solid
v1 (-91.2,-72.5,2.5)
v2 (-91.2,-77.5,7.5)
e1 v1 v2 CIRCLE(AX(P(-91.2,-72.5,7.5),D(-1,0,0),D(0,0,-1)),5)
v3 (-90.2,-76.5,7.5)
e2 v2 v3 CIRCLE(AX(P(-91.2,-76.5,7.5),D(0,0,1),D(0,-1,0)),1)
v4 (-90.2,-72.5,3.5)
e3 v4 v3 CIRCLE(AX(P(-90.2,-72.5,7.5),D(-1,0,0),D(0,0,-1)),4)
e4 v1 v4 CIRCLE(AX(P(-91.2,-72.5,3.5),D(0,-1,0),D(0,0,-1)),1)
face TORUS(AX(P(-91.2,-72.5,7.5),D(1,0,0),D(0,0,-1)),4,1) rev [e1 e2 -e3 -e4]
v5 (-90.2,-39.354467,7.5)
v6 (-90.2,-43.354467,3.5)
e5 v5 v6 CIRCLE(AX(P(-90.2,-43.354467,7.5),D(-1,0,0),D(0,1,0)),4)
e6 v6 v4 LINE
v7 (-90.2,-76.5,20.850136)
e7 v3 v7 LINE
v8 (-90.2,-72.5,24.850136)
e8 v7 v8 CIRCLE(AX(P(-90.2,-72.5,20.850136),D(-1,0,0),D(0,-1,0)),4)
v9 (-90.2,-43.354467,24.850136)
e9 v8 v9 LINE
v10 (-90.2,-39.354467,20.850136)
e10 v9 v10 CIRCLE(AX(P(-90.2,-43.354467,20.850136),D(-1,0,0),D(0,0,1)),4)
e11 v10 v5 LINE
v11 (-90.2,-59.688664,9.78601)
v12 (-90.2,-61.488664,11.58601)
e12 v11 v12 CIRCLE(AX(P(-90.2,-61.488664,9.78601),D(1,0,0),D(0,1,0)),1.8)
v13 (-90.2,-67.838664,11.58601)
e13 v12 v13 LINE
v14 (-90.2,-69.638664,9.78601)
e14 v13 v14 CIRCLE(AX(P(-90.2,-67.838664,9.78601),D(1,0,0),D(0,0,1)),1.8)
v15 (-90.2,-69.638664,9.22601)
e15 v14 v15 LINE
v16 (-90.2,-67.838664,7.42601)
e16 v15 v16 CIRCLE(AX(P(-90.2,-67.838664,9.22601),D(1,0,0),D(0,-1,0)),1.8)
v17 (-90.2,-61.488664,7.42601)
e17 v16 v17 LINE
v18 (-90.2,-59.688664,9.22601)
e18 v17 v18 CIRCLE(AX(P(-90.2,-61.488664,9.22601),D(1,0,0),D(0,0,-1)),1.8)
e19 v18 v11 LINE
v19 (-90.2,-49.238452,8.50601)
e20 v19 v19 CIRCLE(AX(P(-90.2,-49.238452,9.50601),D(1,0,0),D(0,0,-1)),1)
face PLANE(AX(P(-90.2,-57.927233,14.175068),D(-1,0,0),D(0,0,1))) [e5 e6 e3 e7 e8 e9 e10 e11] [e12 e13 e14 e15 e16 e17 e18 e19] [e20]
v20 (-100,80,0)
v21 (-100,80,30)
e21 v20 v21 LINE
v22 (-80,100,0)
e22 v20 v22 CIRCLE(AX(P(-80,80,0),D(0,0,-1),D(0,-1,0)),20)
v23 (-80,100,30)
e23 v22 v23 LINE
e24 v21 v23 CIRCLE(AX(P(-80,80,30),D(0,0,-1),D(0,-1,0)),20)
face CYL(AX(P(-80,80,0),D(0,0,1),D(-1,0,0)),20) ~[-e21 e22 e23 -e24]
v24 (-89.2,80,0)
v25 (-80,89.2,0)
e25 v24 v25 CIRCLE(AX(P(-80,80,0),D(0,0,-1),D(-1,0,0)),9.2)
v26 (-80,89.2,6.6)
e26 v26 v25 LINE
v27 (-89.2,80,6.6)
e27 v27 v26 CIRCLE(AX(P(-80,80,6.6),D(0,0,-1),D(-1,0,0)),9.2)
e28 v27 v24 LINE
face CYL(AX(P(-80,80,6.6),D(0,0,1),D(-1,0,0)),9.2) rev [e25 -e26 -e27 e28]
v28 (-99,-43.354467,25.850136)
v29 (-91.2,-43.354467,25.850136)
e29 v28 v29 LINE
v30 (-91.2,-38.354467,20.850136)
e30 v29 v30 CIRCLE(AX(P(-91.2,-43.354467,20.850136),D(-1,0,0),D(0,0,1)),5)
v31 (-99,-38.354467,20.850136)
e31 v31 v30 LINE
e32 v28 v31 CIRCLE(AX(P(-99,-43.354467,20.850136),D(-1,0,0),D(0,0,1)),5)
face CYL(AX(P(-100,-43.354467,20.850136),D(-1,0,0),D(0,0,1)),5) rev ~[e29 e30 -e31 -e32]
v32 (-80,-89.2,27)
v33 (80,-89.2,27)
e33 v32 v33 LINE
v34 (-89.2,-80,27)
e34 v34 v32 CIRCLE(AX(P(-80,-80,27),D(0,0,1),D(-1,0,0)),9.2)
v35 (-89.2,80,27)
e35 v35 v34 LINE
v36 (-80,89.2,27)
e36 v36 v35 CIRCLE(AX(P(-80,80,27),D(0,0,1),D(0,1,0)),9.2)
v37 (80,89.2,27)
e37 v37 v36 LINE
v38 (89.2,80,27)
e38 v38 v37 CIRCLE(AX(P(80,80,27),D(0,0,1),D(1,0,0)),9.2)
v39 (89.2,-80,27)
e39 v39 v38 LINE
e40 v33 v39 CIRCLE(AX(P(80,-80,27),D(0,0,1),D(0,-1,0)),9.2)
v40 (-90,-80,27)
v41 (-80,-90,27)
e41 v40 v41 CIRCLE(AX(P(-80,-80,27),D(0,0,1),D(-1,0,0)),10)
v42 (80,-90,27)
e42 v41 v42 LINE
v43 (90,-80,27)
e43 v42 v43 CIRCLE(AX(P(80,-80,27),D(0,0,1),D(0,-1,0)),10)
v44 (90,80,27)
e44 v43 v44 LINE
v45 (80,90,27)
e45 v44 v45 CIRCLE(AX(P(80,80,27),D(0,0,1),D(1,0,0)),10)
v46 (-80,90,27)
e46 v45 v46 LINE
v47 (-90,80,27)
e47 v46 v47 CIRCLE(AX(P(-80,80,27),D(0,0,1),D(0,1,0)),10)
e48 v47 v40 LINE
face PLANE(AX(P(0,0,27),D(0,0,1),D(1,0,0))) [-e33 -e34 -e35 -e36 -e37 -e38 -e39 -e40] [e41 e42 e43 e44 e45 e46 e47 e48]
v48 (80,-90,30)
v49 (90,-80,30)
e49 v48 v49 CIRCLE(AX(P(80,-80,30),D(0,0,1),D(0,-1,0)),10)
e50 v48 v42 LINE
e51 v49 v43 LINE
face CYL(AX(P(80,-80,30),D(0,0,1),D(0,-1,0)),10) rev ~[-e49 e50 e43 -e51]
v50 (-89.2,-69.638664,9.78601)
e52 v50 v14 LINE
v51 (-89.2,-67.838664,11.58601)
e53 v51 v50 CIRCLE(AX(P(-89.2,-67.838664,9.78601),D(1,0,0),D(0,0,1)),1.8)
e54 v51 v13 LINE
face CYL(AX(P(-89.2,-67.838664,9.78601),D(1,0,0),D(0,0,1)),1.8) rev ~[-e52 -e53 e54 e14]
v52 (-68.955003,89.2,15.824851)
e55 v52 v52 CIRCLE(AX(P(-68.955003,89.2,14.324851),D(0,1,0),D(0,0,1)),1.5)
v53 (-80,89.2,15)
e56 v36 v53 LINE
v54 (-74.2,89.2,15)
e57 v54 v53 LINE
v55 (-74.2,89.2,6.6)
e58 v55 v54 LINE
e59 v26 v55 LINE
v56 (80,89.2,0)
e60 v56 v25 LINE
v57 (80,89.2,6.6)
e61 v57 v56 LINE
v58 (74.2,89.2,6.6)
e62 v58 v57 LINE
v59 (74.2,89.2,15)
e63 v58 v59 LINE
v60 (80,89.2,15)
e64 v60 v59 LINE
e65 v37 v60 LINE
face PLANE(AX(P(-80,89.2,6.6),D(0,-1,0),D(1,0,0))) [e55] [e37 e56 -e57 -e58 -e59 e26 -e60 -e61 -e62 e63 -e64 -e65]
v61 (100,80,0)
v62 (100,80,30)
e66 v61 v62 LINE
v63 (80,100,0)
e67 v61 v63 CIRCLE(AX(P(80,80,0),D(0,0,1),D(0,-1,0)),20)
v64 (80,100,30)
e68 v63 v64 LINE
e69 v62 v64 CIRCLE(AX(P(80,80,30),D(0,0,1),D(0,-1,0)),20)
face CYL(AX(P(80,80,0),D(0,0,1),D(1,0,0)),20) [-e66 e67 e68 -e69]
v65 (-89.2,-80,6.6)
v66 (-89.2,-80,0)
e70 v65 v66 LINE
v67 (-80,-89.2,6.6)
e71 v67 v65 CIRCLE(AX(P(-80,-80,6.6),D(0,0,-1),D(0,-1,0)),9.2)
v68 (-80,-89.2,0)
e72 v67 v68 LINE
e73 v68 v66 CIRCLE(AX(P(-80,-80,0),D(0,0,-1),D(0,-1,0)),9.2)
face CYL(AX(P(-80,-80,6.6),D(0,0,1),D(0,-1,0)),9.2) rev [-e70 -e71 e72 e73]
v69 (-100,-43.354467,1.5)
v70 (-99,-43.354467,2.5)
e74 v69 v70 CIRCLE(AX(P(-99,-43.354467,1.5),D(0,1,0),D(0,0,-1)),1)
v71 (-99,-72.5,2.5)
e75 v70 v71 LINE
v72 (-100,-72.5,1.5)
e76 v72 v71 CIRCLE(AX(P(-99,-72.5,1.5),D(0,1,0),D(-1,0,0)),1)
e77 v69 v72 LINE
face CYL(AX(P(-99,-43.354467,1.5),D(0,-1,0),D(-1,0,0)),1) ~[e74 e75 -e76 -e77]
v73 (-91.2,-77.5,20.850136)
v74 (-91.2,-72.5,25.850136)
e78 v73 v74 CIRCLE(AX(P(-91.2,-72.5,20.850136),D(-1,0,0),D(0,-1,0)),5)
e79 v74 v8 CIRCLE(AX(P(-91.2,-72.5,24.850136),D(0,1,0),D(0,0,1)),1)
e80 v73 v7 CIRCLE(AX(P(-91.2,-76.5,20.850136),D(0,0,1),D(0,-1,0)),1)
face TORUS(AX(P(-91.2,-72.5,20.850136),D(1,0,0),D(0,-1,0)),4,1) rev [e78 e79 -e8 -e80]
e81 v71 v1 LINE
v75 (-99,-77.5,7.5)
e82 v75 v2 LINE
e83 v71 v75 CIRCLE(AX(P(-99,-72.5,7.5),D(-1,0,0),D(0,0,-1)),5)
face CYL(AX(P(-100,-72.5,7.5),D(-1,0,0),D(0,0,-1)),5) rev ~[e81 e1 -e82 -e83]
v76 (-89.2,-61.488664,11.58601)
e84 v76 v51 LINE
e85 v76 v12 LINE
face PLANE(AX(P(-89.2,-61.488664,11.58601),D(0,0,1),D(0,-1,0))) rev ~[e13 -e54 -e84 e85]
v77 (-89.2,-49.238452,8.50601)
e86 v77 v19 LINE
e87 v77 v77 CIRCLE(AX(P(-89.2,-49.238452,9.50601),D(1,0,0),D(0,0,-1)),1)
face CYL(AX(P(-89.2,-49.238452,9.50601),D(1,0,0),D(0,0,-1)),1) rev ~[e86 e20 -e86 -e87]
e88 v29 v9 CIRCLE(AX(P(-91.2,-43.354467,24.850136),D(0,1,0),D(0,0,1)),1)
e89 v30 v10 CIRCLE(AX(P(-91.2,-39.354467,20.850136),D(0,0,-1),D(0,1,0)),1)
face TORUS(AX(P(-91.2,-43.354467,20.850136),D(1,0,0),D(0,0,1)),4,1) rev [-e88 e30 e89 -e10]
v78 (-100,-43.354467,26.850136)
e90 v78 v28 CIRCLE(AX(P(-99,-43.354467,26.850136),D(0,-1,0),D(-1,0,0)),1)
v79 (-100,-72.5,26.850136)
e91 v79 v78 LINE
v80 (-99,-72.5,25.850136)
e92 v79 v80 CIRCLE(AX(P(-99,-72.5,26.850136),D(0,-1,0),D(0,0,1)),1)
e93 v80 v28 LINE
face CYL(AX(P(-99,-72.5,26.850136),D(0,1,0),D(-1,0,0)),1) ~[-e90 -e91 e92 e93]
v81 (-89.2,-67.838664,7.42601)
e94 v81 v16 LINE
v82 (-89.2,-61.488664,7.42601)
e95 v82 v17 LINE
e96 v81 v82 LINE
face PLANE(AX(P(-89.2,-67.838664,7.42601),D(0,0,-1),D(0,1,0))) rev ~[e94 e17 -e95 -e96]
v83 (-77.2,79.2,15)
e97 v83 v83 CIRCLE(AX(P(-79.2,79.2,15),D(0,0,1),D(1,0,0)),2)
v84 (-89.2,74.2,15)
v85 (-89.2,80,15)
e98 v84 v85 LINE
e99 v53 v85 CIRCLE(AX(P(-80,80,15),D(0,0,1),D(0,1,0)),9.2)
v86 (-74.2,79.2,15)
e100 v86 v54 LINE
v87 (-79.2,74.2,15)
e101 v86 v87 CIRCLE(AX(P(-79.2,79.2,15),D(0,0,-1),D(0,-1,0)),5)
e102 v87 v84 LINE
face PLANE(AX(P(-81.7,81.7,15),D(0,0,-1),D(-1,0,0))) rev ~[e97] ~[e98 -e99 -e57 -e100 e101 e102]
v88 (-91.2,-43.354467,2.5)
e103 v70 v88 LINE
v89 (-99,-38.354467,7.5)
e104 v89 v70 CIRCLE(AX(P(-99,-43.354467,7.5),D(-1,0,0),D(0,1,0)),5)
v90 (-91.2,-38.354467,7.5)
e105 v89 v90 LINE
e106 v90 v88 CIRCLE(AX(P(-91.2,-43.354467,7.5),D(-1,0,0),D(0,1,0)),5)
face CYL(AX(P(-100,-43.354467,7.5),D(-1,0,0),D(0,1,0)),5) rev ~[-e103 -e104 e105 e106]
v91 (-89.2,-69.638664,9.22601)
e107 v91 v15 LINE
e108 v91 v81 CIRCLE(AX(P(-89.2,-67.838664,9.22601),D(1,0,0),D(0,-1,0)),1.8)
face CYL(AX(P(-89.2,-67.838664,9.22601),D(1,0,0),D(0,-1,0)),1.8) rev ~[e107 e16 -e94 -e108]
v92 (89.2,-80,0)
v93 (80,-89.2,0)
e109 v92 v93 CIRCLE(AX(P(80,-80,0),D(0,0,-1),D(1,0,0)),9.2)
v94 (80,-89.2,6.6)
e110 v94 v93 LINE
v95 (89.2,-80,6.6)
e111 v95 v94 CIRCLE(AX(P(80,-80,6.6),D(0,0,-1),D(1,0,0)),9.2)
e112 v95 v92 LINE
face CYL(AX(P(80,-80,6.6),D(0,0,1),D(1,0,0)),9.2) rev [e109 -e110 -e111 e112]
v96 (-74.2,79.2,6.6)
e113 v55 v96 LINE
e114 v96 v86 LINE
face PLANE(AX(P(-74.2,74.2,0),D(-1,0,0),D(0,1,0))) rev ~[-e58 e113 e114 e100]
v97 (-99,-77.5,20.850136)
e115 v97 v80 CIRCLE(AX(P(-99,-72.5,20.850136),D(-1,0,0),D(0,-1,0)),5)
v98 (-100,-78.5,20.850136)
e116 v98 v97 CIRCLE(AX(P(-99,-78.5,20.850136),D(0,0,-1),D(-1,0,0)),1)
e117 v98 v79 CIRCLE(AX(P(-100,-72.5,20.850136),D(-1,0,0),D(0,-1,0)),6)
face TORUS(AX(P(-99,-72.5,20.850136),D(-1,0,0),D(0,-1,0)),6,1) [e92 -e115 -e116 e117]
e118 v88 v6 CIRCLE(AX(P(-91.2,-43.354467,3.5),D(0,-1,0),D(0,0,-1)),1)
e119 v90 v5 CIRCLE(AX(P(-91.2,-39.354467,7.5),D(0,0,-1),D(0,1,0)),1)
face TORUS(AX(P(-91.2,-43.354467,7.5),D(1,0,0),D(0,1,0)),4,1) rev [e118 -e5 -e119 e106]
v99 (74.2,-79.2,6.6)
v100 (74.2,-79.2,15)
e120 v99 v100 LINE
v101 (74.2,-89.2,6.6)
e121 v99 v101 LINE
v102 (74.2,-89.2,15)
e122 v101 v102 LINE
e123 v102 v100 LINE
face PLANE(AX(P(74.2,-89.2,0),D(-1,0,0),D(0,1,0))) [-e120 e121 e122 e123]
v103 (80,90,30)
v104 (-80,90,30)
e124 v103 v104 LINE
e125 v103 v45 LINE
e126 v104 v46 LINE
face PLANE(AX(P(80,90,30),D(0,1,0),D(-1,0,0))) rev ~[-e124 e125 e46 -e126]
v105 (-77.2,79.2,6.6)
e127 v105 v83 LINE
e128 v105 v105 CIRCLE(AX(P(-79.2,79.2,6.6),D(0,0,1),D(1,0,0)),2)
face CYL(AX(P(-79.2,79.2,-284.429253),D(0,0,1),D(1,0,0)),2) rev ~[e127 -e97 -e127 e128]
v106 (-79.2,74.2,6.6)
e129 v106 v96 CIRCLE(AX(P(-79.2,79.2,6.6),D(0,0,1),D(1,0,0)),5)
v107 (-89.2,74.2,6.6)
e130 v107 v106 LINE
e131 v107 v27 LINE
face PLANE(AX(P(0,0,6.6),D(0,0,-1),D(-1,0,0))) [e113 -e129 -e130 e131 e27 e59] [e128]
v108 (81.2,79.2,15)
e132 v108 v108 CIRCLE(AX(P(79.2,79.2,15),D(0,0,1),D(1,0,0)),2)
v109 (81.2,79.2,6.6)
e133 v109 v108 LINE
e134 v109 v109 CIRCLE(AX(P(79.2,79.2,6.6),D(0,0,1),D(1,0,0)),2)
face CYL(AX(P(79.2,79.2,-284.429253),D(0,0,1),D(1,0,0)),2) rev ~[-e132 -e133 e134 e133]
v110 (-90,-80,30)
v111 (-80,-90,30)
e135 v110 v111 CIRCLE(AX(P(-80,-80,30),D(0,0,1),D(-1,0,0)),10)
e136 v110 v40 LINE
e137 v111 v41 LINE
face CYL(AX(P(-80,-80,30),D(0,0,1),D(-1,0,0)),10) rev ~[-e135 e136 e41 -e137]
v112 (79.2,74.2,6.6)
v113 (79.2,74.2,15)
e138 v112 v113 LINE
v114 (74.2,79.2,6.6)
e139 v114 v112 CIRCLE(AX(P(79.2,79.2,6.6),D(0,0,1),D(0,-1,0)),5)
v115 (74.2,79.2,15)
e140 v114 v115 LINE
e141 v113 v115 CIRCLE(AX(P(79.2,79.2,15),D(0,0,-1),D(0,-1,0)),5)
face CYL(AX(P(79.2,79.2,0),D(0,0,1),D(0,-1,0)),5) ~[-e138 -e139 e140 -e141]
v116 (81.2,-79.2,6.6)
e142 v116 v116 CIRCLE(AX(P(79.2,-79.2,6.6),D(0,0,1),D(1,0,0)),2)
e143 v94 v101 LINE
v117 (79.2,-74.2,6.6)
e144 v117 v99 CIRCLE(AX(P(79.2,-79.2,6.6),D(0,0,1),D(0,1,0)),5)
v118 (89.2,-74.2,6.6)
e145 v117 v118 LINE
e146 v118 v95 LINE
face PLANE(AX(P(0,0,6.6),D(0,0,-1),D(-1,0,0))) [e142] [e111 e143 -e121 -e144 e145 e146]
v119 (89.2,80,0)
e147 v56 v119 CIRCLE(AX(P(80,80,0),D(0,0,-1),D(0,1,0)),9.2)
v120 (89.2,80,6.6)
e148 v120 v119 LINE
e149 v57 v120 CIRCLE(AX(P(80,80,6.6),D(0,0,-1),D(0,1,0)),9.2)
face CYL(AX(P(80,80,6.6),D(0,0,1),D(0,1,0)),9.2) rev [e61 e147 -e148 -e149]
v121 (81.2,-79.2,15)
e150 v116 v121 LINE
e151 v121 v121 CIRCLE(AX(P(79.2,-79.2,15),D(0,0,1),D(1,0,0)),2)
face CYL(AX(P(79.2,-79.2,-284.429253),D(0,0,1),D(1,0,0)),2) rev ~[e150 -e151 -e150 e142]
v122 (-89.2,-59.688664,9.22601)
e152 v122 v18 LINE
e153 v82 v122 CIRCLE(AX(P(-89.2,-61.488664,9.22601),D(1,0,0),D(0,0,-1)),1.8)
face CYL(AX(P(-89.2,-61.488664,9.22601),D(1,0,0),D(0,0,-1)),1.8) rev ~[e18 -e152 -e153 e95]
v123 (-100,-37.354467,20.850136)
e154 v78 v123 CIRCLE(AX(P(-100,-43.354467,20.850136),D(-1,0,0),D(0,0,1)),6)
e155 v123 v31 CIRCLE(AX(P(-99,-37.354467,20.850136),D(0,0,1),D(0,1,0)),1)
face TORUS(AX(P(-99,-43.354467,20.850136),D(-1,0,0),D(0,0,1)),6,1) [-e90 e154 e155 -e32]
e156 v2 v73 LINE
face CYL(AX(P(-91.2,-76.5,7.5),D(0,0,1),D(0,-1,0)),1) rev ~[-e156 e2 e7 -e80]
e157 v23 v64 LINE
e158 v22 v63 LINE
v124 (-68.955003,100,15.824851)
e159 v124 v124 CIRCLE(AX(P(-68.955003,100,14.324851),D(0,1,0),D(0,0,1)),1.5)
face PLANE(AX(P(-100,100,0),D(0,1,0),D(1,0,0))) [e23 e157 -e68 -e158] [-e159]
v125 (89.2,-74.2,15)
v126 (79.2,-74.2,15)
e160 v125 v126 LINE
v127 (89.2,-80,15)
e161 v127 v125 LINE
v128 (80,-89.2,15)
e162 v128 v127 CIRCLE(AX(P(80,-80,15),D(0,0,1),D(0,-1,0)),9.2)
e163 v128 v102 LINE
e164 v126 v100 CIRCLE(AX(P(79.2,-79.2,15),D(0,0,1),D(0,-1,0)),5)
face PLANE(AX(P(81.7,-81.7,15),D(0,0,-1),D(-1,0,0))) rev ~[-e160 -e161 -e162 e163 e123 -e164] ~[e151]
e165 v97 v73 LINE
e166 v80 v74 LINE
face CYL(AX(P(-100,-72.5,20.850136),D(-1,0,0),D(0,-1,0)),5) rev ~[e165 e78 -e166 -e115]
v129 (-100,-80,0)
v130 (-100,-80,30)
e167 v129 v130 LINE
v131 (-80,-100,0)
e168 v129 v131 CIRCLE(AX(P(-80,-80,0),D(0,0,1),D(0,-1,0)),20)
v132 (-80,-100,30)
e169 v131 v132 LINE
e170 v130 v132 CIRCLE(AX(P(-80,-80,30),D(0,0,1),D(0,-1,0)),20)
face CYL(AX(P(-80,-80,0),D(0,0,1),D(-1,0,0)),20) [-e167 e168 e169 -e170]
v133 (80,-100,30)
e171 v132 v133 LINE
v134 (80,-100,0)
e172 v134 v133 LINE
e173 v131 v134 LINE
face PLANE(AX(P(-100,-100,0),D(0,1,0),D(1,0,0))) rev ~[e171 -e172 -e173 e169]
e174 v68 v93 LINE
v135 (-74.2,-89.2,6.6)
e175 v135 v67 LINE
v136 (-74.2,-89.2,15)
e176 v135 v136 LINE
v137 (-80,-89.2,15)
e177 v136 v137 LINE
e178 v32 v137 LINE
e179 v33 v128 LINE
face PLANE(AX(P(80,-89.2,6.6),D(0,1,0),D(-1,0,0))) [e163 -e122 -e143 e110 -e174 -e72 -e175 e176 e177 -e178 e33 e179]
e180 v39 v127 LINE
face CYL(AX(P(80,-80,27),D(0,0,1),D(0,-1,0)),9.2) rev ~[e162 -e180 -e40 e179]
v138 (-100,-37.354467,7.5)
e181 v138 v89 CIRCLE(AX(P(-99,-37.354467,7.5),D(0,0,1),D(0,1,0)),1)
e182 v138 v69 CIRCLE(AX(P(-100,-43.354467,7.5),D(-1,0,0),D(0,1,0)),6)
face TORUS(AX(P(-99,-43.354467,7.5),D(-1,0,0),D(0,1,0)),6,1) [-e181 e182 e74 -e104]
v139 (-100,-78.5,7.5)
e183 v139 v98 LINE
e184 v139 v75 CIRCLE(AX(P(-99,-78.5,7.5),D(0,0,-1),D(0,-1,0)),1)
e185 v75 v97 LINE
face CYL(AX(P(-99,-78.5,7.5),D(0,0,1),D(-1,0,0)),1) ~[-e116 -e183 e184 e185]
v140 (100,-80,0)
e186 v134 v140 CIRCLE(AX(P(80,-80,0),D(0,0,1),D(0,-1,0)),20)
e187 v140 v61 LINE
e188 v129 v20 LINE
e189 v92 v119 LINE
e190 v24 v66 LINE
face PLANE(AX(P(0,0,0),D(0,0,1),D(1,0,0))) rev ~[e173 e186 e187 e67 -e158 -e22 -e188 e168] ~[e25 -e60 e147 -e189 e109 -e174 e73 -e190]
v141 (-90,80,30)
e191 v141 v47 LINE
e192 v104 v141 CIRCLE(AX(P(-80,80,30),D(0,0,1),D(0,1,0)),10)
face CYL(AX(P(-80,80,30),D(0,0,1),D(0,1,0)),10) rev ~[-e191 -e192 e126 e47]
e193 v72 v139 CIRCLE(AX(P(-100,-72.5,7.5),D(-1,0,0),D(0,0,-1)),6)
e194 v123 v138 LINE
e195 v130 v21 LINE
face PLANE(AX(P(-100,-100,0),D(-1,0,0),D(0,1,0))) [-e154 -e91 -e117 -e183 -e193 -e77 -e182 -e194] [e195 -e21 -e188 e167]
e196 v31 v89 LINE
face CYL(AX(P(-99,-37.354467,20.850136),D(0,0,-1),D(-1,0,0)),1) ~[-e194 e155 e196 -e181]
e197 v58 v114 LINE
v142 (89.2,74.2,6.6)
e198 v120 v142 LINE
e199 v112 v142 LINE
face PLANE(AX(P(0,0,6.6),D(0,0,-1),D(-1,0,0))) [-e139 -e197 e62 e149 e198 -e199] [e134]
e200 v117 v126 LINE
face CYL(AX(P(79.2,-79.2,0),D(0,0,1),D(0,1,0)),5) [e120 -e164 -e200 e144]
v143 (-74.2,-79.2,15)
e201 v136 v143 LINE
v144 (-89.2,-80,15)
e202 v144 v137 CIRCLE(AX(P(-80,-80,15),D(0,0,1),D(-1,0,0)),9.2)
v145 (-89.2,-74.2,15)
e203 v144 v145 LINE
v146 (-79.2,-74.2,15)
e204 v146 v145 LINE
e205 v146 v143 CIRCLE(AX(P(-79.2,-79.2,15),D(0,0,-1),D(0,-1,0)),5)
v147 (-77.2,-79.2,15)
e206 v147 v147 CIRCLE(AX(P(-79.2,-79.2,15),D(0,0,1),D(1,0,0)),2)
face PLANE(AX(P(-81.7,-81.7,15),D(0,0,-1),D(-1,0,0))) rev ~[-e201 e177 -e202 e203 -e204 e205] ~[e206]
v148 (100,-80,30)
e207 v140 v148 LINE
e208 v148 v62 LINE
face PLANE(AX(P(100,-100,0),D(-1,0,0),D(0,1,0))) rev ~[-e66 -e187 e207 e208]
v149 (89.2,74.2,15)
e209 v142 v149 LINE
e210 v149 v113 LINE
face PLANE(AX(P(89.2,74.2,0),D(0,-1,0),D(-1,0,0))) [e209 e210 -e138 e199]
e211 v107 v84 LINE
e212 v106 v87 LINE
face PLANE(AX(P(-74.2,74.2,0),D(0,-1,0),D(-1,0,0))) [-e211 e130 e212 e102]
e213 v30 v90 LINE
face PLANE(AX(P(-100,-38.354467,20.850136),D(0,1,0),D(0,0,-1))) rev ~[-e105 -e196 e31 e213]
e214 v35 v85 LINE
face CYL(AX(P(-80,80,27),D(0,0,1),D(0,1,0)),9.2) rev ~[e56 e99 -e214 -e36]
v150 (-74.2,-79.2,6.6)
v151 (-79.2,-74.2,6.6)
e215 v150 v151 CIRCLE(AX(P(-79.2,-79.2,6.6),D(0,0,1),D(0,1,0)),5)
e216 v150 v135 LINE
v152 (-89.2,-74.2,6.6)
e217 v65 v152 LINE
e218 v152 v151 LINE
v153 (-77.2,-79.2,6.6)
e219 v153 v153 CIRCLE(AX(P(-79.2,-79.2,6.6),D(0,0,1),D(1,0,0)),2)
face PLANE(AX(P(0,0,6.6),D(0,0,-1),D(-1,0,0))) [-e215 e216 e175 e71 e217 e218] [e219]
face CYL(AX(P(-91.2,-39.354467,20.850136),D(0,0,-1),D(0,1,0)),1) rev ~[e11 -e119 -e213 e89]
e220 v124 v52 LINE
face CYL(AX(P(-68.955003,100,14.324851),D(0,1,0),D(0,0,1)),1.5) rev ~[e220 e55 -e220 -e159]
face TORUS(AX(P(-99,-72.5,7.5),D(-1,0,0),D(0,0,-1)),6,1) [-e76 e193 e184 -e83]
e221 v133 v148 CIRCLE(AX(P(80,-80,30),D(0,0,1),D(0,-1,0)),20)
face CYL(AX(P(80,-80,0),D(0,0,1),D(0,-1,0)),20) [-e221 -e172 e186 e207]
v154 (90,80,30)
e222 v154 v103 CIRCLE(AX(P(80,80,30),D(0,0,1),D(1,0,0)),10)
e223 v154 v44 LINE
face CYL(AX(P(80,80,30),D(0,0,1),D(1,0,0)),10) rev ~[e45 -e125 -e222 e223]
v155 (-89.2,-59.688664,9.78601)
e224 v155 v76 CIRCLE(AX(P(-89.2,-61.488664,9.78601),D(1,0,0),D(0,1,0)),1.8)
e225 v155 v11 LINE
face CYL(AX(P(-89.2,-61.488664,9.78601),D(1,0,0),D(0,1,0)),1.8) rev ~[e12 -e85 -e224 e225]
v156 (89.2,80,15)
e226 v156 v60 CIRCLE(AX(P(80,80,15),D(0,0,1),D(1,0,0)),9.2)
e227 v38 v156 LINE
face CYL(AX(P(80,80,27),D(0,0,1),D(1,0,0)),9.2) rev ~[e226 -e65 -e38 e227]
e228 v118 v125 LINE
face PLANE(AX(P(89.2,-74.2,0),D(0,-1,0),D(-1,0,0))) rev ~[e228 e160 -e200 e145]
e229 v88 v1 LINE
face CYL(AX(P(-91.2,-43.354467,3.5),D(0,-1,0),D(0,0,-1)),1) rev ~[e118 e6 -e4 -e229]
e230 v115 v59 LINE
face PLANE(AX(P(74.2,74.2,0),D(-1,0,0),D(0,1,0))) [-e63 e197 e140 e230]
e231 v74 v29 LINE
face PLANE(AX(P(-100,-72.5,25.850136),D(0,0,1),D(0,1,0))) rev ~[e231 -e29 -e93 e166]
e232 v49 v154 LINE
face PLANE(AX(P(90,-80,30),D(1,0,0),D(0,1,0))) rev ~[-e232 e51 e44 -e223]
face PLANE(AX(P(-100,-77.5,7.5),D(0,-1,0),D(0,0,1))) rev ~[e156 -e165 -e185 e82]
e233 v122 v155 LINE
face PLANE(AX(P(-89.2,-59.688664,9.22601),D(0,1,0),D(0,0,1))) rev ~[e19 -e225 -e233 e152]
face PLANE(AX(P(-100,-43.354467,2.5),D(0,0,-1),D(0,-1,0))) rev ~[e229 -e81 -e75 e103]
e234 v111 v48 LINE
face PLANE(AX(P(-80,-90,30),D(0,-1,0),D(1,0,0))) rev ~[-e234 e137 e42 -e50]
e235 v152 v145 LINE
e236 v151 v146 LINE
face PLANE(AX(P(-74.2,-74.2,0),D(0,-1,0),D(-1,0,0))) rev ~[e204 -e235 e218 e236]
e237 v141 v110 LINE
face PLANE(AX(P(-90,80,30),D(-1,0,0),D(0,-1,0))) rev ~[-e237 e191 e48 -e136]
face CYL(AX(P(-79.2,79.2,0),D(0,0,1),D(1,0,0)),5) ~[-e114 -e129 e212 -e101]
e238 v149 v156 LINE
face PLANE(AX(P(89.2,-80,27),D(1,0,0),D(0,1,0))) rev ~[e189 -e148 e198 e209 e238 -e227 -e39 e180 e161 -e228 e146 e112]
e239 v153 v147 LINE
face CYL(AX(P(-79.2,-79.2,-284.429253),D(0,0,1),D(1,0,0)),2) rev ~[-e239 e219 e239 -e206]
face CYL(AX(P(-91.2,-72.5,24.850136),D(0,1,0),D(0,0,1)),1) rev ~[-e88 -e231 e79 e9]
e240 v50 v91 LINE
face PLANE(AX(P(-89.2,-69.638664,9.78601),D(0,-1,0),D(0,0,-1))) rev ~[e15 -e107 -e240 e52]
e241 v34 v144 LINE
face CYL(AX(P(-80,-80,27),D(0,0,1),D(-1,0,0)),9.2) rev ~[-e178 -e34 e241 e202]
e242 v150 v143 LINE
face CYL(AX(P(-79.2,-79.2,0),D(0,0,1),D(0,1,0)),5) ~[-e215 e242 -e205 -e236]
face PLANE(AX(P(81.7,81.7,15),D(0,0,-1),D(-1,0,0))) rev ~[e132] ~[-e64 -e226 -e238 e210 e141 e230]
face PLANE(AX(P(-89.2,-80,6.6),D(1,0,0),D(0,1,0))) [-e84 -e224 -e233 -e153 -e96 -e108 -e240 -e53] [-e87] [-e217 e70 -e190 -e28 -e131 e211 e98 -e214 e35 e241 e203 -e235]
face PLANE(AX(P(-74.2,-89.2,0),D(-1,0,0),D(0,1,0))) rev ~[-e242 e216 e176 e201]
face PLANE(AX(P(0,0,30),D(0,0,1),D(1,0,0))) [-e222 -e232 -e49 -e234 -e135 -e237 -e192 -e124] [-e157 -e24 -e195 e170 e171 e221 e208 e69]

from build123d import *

# Parameters (mm, degrees)
SKETCH2_W                = 200
SKETCH2_H                = 200
BOSS_EXTRUDE1_DEPTH      = 30
FILLET1_R                = 20
CUT_EXTRUDE1_DEPTH       = 3
CUT_EXTRUDE2_DEPTH       = 144.975692393
SKETCH6_W                = 15
SKETCH6_H                = 15
BOSS_EXTRUDE4_DEPTH      = 15
FILLET2_R                = 5
F_4_0_4_DIAMETER_HOLE1_D = 4
CUT_EXTRUDE3_START       = -6.6
CUT_EXTRUDE3_DEPTH       = 6.6
CUT_EXTRUDE4_REACH       = 227.61
SKETCH11_R               = 1.5
SKETCH15_R               = 1
CUT_EXTRUDE5_DEPTH       = 217.094053597
CUT_EXTRUDE7_DEPTH       = 9.8
FILLET3_R                = 1


with BuildPart() as part:
    # Sketch2 → Boss-Extrude1 (new body)
    with BuildSketch(Plane.XY):
        Rectangle(SKETCH2_W, SKETCH2_H)
    extrude(amount=BOSS_EXTRUDE1_DEPTH)

    # Fillet1
    fillet1_edges = [part.edges().sort_by_distance(p)[0] for p in [
        (100, -100, 15),
        (-100, -100, 15),
        (-100, 100, 15),
        (100, 100, 15),
    ]]
    fillet(fillet1_edges, radius=FILLET1_R)

    # Sketch3 → Cut-Extrude1 (cut)
    with BuildSketch(Plane.XY.offset(30)):
        with BuildLine():
            Line((-90, 80), (-90, -80))
            ThreePointArc((-90, -80), (-87.071067812, -87.071067812), (-80, -90))
            Line((-80, -90), (80, -90))
            ThreePointArc((80, -90), (87.071067812, -87.071067812), (90, -80))
            Line((90, -80), (90, 80))
            ThreePointArc((90, 80), (87.071067812, 87.071067812), (80, 90))
            Line((80, 90), (-80, 90))
            ThreePointArc((-80, 90), (-87.071067812, 87.071067812), (-90, 80))
        make_face()
    extrude(amount=-CUT_EXTRUDE1_DEPTH, mode=Mode.SUBTRACT)

    # Sketch4 → Cut-Extrude2 (cut, through all)
    with BuildSketch(Plane.XY.offset(27)):
        with BuildLine():
            Line((-89.2, 80), (-89.2, -80))
            ThreePointArc((-89.2, -80), (-86.505382387, -86.505382387), (-80, -89.2))
            Line((-80, -89.2), (80, -89.2))
            ThreePointArc((80, -89.2), (86.505382387, -86.505382387), (89.2, -80))
            Line((89.2, -80), (89.2, 80))
            ThreePointArc((89.2, 80), (86.505382387, 86.505382387), (80, 89.2))
            Line((80, 89.2), (-80, 89.2))
            ThreePointArc((-80, 89.2), (-86.505382387, 86.505382387), (-89.2, 80))
        make_face()
    extrude(amount=-CUT_EXTRUDE2_DEPTH, mode=Mode.SUBTRACT)

    # Sketch6 → Boss-Extrude4 (add)
    with BuildSketch(Plane(origin=(0, 0, 0), x_dir=(-1, 0, 0), z_dir=(0, 0, -1))):
        with Locations((-81.7, -81.7)):
            Rectangle(SKETCH6_W, SKETCH6_H)
        with Locations((-81.7, 81.7)):
            Rectangle(SKETCH6_W, SKETCH6_H)
        with Locations((81.7, 81.7)):
            Rectangle(SKETCH6_W, SKETCH6_H)
        with Locations((81.7, -81.7)):
            Rectangle(SKETCH6_W, SKETCH6_H)
    extrude(amount=-BOSS_EXTRUDE4_DEPTH)

    # Fillet2
    fillet2_edges = [part.edges().sort_by_distance(p)[0] for p in [
        (74.2, 74.2, 7.5),
        (-74.2, 74.2, 7.5),
        (-74.2, -74.2, 7.5),
        (74.2, -74.2, 7.5),
    ]]
    fillet(fillet2_edges, radius=FILLET2_R)

    # Ø4.0 (4) Diameter Hole1 (through all)
    with Locations(Plane(origin=(0, 0, 0), x_dir=(-1, 0, 0), z_dir=(0, 0, -1))):
        with Locations((-79.2, 79.2), (79.2, 79.2), (-79.2, -79.2), (79.2, -79.2)):
            Hole(F_4_0_4_DIAMETER_HOLE1_D / 2)

    # Sketch10 → Cut-Extrude3 (cut)
    with BuildSketch(Plane(origin=(0, 0, 0), x_dir=(-1, 0, 0), z_dir=(0, 0, -1)).offset(CUT_EXTRUDE3_START)):
        with BuildLine():
            Line((89.2, -80), (89.2, 80))
            ThreePointArc((89.2, 80), (86.505382387, 86.505382387), (80, 89.2))
            Line((80, 89.2), (-80, 89.2))
            ThreePointArc((-80, 89.2), (-86.505382387, 86.505382387), (-89.2, 80))
            Line((-89.2, 80), (-89.2, -80))
            ThreePointArc((-89.2, -80), (-86.505382387, -86.505382387), (-80, -89.2))
            Line((-80, -89.2), (80, -89.2))
            ThreePointArc((80, -89.2), (86.505382387, -86.505382387), (89.2, -80))
        make_face()
    extrude(amount=CUT_EXTRUDE3_DEPTH, mode=Mode.SUBTRACT)

    # Sketch11 → Cut-Extrude4 (cut, up to next)
    with BuildSketch(Plane(origin=(0, 100, 0), x_dir=(1, 0, 0), z_dir=(0, 1, 0)), mode=Mode.PRIVATE) as cut_extrude4_sk1:
        with Locations(Location((-68.95500318, -14.324851484, 0), (0, 0, 270))):
            Circle(SKETCH11_R)
    cut_extrude4_tool1 = extrude(cut_extrude4_sk1.sketch, amount=-CUT_EXTRUDE4_REACH, mode=Mode.PRIVATE) & part.part
    add(cut_extrude4_tool1.solids().sort_by_distance((-68.955003, 100, 14.324851))[0], mode=Mode.SUBTRACT)

    # Sketch15 → Cut-Extrude5 (cut, through all)
    with BuildSketch(Plane(origin=(-89.2, 0, 0), x_dir=(0, 0, -1), z_dir=(1, 0, 0))):
        with Locations((-9.506010444, -49.23845191)):
            Circle(SKETCH15_R)
        with BuildLine():
            Line((-9.226010444, -59.688663791), (-9.786010444, -59.688663791))
            ThreePointArc((-9.786010444, -59.688663791), (-11.05880265, -60.215871585), (-11.586010444, -61.488663791))
            Line((-11.586010444, -61.488663791), (-11.586010444, -67.838663791))
            ThreePointArc((-11.586010444, -67.838663791), (-11.05880265, -69.111455997), (-9.786010444, -69.638663791))
            Line((-9.786010444, -69.638663791), (-9.226010444, -69.638663791))
            ThreePointArc((-9.226010444, -69.638663791), (-7.953218238, -69.111455997), (-7.426010444, -67.838663791))
            Line((-7.426010444, -67.838663791), (-7.426010444, -61.488663791))
            ThreePointArc((-7.426010444, -61.488663791), (-7.953218238, -60.215871585), (-9.226010444, -59.688663791))
        make_face()
    extrude(amount=-CUT_EXTRUDE5_DEPTH, mode=Mode.SUBTRACT)

    # Sketch17 → Cut-Extrude7 (cut)
    with BuildSketch(Plane.ZY.offset(100)):
        with BuildLine():
            Line((20.850135553, -38.354466572), (7.5, -38.354466572))
            ThreePointArc((7.5, -38.354466572), (3.964466094, -39.818932666), (2.5, -43.354466572))
            Line((2.5, -43.354466572), (2.5, -72.5))
            ThreePointArc((2.5, -72.5), (3.964466094, -76.035533906), (7.5, -77.5))
            Line((7.5, -77.5), (20.850135553, -77.5))
            ThreePointArc((20.850135553, -77.5), (24.385669459, -76.035533906), (25.850135553, -72.5))
            Line((25.850135553, -72.5), (25.850135553, -43.354466572))
            ThreePointArc((25.850135553, -43.354466572), (24.385669459, -39.818932666), (20.850135553, -38.354466572))
        make_face()
    extrude(amount=-CUT_EXTRUDE7_DEPTH, mode=Mode.SUBTRACT)

    # Fillet3
    fillet3_edges = [part.edges().sort_by_distance(p)[0] for p in [
        (-100, -39.818932666, 3.964466094),
        (-100, -57.927233286, 2.5),
        (-100, -76.035533906, 3.964466094),
        (-100, -77.5, 14.175067777),
        (-100, -76.035533906, 24.385669459),
        (-100, -57.927233286, 25.850135553),
        (-100, -39.818932666, 24.385669459),
        (-100, -38.354466572, 14.175067777),
        (-90.2, -39.818932666, 3.964466094),
        (-90.2, -38.354466572, 14.175067777),
        (-90.2, -39.818932666, 24.385669459),
        (-90.2, -57.927233286, 25.850135553),
        (-90.2, -76.035533906, 24.385669459),
        (-90.2, -77.5, 14.175067777),
        (-90.2, -76.035533906, 3.964466094),
        (-90.2, -57.927233286, 2.5),
    ]]
    fillet(fillet3_edges, radius=FILLET3_R)


solid = part.part
